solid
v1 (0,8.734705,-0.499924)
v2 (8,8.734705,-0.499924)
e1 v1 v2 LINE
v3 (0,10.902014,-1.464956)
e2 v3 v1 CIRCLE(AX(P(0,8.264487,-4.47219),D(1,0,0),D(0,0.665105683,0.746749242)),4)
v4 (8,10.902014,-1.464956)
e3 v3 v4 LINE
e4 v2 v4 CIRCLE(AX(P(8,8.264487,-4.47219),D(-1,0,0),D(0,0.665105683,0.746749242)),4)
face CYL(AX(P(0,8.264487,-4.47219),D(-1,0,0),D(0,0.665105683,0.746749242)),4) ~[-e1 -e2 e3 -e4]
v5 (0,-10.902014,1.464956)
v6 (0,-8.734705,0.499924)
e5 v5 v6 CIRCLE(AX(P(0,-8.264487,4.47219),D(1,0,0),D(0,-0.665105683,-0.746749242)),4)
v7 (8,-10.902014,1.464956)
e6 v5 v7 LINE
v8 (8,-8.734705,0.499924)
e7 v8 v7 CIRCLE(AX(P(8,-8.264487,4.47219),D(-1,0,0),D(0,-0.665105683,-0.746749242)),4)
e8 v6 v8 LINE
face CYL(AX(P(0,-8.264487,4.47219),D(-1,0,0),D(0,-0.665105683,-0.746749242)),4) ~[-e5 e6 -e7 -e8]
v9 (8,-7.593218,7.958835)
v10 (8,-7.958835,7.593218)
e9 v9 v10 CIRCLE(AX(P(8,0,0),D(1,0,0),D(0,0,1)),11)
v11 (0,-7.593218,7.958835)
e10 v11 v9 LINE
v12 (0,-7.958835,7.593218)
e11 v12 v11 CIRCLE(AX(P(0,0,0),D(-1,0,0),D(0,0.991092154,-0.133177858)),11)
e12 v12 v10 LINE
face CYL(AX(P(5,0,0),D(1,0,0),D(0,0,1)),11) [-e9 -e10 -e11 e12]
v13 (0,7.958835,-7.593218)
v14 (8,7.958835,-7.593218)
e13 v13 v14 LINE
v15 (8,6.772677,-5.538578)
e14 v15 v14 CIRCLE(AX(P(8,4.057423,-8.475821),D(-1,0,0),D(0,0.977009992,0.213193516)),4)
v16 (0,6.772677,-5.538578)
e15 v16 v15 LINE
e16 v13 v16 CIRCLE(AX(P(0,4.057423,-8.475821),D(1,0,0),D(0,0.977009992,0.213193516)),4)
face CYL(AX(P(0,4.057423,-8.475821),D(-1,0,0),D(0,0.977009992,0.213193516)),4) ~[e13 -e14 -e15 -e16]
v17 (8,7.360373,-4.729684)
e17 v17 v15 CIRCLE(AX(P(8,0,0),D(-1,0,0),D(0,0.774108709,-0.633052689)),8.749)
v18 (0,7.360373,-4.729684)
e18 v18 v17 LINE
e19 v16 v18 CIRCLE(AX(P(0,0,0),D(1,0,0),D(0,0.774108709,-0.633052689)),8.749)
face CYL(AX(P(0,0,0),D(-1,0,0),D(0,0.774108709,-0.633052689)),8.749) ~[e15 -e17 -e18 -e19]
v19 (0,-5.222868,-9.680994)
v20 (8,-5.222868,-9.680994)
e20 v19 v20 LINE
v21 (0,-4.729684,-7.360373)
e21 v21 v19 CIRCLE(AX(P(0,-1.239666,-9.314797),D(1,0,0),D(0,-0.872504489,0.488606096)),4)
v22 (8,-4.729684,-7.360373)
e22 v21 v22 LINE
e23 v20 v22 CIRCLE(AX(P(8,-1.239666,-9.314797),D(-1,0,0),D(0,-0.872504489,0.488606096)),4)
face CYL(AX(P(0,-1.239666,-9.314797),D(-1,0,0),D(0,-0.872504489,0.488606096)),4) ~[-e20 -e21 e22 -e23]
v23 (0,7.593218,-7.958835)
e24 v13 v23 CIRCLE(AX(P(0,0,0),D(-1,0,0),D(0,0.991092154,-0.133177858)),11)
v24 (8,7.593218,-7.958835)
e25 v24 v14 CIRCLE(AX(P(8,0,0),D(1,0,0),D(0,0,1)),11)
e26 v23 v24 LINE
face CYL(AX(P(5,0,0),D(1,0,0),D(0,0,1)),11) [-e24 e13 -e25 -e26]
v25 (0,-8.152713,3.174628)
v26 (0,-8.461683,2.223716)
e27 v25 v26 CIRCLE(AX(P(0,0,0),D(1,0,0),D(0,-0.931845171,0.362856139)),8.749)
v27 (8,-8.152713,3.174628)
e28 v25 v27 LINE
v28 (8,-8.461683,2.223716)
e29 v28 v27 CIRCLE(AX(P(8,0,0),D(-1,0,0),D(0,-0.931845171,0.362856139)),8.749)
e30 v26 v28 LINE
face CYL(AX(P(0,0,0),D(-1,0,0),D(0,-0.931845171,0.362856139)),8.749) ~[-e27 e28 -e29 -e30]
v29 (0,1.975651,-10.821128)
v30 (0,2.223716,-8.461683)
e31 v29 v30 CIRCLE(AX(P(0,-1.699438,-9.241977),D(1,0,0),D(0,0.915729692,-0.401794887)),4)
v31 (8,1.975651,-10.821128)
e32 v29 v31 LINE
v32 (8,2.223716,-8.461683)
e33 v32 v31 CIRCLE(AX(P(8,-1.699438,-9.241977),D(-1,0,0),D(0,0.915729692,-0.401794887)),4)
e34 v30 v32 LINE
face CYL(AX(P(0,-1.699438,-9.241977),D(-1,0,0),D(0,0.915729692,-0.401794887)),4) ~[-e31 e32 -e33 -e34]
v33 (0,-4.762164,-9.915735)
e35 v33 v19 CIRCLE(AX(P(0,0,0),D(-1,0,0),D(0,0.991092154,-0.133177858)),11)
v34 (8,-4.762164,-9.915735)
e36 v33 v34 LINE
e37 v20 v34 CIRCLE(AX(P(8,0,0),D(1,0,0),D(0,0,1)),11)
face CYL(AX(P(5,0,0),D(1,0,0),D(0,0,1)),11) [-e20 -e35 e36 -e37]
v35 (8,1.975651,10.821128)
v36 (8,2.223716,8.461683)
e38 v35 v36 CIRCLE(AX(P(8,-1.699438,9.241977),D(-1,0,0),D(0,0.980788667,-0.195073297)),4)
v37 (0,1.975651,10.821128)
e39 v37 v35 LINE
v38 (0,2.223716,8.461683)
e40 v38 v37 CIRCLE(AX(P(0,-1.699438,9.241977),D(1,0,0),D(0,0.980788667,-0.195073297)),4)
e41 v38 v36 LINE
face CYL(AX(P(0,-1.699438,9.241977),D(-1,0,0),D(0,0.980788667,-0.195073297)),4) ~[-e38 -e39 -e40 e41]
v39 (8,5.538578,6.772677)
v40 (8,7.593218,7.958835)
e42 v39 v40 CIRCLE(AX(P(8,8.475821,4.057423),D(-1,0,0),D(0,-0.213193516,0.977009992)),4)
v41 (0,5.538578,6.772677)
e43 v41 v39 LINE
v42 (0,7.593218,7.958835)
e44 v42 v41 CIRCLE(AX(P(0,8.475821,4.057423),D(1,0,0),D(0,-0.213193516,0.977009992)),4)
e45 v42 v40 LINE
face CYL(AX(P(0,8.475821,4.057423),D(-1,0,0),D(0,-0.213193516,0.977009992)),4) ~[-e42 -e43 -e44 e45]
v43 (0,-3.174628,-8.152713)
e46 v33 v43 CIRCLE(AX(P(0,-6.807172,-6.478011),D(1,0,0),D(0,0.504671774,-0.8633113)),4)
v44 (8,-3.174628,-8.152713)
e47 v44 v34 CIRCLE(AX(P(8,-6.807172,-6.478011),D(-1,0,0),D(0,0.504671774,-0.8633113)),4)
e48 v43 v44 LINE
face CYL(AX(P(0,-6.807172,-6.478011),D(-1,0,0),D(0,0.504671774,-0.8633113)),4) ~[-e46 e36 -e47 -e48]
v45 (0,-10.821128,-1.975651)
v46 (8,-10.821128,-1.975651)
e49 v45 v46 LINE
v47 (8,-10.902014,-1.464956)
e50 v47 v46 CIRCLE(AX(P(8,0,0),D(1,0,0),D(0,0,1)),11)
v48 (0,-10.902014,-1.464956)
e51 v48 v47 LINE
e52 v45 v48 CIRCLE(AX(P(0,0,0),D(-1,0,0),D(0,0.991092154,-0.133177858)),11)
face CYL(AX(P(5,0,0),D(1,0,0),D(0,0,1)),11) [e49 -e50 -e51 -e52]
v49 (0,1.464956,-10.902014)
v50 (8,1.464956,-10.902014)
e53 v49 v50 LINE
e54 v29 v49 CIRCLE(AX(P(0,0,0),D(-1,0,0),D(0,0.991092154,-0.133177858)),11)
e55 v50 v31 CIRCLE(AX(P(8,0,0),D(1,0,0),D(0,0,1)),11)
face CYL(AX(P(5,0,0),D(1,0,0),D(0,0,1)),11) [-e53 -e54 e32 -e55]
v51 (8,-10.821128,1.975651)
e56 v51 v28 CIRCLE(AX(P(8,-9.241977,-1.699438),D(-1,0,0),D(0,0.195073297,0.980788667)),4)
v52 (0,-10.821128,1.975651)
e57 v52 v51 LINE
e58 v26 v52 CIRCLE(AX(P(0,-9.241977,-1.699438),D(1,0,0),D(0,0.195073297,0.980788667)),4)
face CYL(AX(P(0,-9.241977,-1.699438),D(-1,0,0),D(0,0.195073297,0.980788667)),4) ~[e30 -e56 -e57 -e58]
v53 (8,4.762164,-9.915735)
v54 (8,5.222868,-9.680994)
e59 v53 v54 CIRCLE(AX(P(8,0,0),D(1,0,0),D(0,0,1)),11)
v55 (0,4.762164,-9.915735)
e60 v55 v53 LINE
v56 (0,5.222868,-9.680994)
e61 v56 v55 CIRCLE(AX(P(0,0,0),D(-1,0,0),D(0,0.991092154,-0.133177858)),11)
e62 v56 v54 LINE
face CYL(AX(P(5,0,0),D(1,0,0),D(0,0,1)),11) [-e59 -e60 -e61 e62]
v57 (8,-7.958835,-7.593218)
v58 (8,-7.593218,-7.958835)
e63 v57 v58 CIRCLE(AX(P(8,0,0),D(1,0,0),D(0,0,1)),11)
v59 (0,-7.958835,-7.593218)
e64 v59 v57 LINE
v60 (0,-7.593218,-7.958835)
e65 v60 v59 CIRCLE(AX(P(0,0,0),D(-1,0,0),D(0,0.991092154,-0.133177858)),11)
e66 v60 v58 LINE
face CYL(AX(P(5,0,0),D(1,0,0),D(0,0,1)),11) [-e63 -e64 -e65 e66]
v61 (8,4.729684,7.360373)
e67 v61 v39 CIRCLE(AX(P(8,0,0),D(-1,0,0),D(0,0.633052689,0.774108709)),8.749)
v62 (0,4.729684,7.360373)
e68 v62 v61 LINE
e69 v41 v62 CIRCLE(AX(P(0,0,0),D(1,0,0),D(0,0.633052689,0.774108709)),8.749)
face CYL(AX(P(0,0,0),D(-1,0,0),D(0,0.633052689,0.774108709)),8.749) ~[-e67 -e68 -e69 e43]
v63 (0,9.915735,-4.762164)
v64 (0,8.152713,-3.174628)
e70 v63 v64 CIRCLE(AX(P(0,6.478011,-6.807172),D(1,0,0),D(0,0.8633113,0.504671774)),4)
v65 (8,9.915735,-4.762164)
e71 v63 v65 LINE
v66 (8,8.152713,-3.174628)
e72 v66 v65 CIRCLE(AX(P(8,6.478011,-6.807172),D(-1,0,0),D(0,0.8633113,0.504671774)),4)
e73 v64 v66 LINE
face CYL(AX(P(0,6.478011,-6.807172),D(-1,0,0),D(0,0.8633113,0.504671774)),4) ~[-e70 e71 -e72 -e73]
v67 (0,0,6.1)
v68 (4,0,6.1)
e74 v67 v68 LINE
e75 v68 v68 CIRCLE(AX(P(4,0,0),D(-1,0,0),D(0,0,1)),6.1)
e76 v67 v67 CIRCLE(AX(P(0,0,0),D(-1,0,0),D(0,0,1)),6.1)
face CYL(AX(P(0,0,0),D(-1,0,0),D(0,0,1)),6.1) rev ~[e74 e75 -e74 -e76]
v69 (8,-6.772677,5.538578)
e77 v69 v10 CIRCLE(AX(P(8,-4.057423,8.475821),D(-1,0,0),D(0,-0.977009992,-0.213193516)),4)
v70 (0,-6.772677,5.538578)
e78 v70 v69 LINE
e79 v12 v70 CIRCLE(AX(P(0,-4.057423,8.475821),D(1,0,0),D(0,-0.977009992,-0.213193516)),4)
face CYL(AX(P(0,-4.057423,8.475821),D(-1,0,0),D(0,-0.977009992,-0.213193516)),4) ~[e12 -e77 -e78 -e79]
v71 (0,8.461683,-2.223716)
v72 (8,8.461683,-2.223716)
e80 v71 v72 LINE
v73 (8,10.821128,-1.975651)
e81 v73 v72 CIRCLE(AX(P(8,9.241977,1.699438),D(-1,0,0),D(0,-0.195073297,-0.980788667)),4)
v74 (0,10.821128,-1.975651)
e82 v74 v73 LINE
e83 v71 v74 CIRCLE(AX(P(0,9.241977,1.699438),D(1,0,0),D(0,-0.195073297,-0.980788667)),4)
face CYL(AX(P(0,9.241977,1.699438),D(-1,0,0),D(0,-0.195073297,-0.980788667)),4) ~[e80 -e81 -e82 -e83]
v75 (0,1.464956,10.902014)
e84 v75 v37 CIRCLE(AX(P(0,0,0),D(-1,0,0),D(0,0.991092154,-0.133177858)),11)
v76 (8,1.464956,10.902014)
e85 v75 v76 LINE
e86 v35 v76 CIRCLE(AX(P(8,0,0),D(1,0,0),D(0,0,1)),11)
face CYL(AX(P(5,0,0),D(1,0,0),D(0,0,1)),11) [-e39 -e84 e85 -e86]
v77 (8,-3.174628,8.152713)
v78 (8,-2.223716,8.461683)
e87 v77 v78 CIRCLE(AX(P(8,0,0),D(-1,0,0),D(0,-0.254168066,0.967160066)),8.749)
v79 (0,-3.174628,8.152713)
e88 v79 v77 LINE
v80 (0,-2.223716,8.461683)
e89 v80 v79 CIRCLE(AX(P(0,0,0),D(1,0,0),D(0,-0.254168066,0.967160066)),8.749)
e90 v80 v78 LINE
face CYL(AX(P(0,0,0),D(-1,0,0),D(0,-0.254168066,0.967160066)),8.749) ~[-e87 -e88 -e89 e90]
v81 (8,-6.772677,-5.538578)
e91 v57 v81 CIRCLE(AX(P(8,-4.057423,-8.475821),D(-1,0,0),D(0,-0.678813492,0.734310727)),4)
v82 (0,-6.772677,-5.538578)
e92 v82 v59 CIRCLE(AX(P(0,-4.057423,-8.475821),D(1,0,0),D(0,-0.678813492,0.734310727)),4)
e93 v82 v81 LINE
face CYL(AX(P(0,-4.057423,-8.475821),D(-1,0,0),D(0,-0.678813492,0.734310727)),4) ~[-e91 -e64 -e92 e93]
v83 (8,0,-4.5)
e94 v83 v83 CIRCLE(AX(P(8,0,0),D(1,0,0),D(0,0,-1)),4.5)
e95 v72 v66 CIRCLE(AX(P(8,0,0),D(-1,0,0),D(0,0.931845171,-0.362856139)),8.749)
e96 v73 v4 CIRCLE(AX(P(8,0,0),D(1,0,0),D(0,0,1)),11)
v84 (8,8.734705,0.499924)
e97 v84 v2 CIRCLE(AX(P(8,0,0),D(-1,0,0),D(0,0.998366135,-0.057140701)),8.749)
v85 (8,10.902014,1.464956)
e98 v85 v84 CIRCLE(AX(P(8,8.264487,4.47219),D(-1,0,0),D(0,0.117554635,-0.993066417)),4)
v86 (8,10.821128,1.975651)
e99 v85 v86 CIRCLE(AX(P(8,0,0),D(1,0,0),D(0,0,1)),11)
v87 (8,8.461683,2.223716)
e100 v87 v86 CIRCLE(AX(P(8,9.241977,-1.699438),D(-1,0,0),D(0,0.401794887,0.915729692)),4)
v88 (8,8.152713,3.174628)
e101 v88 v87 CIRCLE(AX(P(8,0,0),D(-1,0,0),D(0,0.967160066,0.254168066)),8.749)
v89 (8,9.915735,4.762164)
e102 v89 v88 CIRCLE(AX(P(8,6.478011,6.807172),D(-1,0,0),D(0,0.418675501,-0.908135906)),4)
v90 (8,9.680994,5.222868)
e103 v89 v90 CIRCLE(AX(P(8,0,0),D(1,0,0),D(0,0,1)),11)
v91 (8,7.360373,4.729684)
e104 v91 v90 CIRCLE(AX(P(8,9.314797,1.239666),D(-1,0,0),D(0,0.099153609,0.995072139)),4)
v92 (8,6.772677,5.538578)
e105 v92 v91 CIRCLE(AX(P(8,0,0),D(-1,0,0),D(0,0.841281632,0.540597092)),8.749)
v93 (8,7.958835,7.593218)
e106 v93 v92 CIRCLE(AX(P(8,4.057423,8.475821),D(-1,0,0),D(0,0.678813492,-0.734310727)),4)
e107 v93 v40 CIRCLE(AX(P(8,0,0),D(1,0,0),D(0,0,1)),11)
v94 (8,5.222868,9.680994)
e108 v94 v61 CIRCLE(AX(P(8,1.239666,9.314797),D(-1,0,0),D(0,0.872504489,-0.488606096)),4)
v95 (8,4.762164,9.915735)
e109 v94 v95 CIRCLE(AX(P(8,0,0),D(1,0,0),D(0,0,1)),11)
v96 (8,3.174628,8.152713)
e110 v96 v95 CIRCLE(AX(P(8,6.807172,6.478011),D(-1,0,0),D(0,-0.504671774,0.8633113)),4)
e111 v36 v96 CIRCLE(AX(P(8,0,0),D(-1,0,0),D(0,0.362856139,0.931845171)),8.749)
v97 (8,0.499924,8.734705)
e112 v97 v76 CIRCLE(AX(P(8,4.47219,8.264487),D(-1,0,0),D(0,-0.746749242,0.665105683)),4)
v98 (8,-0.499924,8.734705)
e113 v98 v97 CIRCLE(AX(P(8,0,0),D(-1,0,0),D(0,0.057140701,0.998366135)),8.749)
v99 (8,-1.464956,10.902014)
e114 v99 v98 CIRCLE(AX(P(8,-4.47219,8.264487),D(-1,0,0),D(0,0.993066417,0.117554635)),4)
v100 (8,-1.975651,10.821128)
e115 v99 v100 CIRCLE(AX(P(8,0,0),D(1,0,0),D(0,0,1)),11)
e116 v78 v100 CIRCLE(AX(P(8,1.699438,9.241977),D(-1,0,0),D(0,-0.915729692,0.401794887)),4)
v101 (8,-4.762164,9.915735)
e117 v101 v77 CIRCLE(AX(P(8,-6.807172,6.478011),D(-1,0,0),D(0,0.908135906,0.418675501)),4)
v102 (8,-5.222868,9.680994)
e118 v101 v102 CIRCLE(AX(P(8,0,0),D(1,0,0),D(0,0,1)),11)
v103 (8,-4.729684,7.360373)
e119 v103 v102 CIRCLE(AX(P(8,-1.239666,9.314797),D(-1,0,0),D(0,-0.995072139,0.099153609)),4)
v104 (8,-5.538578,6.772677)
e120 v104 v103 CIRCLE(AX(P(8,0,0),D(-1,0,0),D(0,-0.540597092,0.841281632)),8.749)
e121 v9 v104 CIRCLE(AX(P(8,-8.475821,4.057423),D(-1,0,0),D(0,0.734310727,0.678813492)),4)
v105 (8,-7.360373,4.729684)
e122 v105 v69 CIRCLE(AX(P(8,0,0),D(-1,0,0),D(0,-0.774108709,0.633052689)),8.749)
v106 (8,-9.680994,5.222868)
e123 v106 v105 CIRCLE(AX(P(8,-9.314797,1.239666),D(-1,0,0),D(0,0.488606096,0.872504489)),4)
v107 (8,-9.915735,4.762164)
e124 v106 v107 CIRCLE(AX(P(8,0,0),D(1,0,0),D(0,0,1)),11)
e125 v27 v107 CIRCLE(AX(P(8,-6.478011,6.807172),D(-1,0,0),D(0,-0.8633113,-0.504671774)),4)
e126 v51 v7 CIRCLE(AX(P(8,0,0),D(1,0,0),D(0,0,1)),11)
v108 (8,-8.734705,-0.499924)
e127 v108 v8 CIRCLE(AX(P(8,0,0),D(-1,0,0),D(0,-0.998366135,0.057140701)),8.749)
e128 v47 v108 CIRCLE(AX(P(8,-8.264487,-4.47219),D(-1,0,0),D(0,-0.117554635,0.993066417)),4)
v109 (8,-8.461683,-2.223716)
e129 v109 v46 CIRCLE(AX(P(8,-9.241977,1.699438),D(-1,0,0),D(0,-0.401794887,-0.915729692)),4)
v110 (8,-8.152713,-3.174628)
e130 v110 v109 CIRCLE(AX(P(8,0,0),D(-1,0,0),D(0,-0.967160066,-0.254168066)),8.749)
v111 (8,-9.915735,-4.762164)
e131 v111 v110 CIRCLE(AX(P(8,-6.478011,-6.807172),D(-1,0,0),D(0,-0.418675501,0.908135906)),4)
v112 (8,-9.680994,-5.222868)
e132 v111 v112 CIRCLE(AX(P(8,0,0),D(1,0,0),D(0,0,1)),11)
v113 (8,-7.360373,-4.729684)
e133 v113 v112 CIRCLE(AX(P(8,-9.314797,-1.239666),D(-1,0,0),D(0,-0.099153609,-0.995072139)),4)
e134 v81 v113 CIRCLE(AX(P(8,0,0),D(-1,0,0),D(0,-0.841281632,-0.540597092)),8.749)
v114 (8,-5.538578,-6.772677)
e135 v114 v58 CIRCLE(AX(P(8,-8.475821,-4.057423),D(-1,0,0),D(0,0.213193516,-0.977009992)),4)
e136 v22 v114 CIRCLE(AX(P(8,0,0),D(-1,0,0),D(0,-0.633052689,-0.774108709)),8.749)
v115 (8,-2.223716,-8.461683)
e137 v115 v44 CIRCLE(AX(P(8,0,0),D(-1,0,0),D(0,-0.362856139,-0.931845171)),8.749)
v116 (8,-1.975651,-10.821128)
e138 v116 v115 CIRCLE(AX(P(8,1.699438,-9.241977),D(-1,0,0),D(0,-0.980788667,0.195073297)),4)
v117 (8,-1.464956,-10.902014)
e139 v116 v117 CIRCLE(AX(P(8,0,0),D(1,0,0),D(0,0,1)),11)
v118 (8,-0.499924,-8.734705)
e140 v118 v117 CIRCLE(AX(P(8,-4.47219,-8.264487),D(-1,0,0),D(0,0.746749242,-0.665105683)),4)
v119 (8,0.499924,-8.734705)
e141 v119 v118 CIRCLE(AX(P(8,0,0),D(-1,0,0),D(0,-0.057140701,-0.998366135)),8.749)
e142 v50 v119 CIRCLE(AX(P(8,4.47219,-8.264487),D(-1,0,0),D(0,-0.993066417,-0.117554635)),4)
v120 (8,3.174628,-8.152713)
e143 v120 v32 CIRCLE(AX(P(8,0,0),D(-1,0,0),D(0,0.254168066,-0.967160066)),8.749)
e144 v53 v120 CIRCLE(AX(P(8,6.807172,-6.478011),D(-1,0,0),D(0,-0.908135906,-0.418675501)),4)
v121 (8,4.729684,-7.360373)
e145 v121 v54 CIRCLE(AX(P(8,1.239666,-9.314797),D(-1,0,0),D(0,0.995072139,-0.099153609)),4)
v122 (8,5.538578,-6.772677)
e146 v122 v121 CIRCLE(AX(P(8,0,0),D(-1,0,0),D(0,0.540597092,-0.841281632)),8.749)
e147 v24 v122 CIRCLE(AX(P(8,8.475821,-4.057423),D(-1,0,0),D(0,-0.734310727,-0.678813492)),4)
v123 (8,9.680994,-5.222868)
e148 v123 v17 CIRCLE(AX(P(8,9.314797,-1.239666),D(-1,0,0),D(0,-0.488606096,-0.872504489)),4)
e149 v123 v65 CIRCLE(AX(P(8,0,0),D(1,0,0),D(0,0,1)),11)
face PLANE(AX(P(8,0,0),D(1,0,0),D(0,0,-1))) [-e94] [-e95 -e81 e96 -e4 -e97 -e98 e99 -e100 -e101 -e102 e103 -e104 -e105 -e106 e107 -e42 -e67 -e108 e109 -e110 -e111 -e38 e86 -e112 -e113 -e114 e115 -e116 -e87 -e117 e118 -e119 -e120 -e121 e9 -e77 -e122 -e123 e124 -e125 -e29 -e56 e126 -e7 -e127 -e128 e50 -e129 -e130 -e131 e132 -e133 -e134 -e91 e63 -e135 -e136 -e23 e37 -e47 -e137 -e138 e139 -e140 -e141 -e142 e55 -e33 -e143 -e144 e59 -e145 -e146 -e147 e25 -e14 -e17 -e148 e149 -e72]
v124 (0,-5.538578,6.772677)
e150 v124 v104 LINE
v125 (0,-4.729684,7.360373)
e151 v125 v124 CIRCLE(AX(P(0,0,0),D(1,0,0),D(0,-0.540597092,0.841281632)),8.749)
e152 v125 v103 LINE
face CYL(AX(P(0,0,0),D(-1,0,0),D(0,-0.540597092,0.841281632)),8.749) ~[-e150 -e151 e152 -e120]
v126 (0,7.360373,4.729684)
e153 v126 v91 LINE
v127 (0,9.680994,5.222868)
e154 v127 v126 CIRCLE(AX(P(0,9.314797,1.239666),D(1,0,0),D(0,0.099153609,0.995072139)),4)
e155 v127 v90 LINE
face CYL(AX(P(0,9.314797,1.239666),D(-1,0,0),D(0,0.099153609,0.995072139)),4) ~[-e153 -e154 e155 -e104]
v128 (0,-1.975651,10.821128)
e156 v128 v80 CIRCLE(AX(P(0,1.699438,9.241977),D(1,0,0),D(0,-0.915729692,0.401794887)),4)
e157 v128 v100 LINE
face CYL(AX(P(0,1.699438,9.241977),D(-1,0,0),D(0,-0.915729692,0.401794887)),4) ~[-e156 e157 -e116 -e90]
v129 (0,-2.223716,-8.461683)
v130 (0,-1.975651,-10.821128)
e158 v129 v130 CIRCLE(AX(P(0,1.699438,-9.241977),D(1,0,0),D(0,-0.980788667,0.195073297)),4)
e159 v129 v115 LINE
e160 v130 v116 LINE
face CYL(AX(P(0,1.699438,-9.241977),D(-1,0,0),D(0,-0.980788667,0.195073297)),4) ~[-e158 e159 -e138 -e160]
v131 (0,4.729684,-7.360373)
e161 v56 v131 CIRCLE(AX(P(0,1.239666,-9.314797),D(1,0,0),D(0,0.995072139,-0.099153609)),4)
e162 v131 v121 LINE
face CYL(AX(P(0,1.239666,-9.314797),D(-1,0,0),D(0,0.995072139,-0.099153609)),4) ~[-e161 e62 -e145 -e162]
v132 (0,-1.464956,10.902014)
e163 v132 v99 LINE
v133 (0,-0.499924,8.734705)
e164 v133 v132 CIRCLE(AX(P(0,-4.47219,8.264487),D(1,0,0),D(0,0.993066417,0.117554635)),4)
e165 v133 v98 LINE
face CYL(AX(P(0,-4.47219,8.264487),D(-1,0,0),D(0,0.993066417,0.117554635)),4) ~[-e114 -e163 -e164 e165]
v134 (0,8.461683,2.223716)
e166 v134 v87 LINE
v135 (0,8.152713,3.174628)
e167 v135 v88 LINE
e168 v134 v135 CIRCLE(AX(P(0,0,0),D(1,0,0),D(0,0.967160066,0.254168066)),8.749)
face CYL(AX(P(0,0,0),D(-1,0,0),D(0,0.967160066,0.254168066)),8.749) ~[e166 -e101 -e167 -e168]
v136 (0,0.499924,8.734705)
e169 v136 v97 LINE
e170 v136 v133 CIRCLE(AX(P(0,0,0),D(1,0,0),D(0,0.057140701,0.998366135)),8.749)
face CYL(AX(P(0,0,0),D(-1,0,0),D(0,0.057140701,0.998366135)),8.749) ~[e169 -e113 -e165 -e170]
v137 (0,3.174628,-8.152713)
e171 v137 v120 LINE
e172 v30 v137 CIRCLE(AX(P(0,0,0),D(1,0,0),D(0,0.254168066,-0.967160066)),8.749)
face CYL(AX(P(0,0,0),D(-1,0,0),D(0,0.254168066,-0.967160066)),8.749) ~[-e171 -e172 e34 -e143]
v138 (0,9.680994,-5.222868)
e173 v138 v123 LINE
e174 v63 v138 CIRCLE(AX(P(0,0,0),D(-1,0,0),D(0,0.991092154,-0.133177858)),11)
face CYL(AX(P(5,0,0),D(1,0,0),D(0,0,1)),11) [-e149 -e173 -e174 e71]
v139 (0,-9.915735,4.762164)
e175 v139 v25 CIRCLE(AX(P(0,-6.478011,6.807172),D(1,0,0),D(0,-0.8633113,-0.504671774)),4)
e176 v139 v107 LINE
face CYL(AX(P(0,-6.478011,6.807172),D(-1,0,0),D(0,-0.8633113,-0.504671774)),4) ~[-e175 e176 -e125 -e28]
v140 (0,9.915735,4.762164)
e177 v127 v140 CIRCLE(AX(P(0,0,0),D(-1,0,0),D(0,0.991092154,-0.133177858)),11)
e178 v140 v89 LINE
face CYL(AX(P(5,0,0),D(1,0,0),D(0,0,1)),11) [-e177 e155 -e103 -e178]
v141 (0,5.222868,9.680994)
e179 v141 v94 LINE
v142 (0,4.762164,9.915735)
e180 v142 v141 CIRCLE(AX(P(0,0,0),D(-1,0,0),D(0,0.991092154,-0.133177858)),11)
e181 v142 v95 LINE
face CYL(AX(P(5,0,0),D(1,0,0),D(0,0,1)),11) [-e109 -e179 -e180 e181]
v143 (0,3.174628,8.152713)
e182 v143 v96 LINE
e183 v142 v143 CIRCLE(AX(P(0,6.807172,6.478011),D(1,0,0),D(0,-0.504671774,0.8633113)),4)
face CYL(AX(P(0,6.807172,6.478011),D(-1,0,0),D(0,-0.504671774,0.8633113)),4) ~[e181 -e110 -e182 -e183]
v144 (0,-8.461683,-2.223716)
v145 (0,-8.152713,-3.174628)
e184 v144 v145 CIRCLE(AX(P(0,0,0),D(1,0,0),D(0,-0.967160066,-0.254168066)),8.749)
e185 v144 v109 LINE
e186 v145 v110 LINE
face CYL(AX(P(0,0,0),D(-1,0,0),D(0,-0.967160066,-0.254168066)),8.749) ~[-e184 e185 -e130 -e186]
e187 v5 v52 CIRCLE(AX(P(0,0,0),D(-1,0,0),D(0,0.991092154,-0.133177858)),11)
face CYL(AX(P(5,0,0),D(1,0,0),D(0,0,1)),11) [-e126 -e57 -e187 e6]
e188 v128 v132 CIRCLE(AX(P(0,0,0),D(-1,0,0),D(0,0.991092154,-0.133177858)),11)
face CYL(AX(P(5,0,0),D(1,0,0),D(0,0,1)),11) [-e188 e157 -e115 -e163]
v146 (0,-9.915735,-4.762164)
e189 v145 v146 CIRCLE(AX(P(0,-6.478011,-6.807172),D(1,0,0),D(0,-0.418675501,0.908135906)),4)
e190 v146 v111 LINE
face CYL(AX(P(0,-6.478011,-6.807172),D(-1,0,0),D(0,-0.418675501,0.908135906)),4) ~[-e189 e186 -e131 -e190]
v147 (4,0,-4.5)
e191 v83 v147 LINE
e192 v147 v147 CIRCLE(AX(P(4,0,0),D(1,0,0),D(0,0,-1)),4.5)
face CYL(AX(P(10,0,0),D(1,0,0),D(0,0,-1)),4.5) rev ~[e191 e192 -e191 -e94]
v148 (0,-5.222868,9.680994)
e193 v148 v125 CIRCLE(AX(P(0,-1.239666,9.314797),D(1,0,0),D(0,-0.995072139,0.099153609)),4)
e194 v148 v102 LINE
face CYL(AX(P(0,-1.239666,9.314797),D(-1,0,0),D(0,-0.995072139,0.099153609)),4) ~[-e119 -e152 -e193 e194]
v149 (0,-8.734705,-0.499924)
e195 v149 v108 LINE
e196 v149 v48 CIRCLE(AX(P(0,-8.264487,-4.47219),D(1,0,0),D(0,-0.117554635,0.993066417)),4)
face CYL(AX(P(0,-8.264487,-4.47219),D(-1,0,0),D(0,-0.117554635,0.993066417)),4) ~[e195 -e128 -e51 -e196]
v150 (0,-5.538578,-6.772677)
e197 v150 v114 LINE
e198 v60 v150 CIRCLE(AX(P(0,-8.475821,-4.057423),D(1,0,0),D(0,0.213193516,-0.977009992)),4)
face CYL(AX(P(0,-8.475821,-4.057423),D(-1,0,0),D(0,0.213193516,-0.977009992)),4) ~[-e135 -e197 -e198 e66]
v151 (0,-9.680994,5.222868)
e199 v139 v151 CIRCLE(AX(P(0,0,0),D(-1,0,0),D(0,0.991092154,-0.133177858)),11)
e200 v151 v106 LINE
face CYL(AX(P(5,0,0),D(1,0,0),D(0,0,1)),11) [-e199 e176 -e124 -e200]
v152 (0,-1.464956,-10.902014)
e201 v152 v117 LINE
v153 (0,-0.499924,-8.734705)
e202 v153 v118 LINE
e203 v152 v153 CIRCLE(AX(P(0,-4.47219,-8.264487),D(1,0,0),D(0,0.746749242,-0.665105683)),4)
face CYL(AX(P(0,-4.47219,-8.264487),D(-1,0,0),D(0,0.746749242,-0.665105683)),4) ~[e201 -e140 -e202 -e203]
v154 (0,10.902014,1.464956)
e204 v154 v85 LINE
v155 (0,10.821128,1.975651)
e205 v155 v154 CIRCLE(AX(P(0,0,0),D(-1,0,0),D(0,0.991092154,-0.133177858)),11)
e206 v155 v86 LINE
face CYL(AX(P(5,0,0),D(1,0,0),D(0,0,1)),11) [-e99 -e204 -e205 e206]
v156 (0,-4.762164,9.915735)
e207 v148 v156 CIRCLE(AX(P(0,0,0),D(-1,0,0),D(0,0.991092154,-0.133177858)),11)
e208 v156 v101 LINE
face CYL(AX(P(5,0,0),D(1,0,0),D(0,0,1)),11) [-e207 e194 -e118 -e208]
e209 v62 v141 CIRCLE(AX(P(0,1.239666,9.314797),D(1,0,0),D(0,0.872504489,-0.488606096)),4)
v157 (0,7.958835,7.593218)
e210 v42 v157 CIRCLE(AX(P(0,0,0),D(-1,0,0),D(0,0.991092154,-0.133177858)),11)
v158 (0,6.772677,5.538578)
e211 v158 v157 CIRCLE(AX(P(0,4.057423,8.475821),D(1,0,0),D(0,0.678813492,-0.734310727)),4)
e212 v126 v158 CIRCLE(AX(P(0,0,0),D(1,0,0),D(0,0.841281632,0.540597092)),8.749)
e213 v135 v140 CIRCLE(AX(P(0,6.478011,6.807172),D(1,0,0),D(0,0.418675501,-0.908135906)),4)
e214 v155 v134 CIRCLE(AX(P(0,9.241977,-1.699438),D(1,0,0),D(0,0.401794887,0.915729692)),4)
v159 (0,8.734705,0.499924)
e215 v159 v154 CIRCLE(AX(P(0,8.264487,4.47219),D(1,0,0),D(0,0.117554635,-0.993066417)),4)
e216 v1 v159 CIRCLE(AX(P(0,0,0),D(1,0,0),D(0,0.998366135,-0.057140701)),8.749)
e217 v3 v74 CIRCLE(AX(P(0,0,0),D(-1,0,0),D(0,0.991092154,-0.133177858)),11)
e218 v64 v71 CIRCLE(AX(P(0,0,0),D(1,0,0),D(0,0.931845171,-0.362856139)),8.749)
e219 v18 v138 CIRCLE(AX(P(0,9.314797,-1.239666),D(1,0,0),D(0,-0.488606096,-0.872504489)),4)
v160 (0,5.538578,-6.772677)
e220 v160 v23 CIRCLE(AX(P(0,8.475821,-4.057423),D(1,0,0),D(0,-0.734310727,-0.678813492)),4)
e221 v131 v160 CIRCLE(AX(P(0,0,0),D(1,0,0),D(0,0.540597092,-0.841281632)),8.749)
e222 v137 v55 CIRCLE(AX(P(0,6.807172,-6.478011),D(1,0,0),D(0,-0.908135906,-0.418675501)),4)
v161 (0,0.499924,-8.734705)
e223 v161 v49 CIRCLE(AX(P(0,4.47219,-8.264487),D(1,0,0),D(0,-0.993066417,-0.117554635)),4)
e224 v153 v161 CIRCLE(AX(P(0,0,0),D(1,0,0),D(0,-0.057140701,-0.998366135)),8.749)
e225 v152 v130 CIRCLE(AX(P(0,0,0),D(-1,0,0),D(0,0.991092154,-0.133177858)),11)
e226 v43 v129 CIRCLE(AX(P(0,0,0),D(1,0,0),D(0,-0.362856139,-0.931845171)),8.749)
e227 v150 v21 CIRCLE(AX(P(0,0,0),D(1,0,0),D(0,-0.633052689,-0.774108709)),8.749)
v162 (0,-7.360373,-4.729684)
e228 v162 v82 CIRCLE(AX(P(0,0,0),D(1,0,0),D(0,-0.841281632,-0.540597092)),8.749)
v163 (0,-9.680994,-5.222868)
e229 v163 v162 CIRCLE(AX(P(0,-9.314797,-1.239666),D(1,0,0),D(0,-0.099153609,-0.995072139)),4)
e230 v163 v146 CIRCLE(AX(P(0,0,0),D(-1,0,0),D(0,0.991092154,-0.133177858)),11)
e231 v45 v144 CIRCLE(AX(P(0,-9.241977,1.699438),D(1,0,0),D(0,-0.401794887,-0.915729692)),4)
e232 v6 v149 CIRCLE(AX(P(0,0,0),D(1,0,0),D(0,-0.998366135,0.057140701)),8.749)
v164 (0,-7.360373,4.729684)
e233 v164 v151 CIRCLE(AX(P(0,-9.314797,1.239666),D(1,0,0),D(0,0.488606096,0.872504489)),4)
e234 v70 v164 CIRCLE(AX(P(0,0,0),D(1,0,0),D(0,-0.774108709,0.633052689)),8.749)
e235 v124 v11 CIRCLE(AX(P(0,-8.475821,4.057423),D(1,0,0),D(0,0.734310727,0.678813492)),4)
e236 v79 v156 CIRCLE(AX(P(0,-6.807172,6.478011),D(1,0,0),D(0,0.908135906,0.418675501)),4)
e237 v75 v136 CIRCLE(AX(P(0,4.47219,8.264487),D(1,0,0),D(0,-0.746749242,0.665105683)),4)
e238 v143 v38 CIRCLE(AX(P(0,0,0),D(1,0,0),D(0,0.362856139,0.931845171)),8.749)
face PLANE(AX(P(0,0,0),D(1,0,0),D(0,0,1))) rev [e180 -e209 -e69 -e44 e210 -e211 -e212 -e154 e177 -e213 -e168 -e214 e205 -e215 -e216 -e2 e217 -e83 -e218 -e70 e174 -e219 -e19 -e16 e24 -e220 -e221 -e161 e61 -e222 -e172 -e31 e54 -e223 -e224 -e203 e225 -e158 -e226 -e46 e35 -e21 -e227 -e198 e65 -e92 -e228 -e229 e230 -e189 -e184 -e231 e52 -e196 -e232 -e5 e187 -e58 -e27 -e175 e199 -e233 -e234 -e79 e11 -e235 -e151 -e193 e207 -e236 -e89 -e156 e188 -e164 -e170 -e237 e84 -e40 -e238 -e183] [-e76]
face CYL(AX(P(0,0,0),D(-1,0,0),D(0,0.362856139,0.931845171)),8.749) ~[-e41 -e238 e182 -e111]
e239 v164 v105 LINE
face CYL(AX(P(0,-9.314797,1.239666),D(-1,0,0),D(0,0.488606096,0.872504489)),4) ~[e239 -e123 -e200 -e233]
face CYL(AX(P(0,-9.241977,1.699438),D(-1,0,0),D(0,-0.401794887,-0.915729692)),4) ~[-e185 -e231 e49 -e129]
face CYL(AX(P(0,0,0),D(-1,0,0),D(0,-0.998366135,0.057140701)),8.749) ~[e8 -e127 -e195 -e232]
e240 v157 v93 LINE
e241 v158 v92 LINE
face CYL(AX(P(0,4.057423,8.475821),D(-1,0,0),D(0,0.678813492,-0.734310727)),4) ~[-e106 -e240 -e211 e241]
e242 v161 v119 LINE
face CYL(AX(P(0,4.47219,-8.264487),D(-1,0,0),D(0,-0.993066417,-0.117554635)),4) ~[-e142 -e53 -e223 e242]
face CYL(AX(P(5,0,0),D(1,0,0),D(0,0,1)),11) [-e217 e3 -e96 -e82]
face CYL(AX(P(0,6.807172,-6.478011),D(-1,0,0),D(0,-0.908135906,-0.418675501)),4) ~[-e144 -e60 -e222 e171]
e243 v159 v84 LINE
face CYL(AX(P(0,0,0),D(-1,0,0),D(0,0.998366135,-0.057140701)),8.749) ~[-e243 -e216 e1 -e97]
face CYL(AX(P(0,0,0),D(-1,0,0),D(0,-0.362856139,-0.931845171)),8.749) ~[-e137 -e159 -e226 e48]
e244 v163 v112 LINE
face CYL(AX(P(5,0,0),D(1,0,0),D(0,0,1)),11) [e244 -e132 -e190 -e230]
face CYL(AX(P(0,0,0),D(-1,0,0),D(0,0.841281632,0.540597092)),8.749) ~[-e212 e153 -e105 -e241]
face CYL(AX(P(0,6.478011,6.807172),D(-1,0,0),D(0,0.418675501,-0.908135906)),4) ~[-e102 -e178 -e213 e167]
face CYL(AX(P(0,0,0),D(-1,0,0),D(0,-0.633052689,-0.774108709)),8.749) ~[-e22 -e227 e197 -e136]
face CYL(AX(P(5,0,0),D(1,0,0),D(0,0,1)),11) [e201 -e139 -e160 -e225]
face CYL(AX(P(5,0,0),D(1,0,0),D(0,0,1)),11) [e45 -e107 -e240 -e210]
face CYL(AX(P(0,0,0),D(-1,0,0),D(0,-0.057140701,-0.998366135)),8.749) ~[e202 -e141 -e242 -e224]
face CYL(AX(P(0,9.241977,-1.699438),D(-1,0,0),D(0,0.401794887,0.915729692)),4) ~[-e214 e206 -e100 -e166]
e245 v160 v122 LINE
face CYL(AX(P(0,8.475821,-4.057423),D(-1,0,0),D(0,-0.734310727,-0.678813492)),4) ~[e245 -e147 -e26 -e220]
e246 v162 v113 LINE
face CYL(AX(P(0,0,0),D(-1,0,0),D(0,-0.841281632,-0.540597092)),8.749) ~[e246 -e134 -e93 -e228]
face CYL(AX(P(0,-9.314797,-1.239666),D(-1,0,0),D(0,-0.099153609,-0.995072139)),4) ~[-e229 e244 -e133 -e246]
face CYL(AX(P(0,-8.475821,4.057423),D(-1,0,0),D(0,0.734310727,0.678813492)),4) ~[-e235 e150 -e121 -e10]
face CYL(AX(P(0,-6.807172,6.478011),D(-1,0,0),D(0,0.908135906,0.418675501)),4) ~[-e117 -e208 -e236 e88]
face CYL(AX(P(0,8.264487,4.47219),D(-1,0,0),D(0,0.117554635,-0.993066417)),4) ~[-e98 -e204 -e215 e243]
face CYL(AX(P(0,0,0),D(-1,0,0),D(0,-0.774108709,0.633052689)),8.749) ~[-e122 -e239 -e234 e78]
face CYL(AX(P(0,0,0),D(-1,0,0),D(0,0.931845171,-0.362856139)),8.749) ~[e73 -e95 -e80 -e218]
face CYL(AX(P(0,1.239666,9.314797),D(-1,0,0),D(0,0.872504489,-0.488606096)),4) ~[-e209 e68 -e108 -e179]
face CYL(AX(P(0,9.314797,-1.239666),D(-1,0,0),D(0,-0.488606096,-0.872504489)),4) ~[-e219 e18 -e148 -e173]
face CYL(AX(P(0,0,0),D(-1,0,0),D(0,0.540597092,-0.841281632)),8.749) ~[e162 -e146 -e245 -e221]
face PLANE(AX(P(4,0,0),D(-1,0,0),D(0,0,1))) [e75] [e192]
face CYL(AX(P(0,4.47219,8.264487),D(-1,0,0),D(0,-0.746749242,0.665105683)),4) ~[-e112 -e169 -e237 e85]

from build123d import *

# Parameters (mm, degrees)
BASPROSKE_W        = 10
BASPROSKE_H        = 11
TOOTHCUT_DEPTH     = 19.493242009
TEETHCUTS_COUNT    = 20
TEETHCUTS_ANGLE    = 342
BORSKE_R           = 2.5
BORE_DEPTH         = 50.0000508
SKETCH1_R          = 6.1
CUT_EXTRUDE1_DEPTH = 4
SKETCH2_R          = 4.5
CUT_EXTRUDE2_DEPTH = 19.376827944
SKETCH3_R          = 14.898414192
CUT_EXTRUDE3_DEPTH = 2


with BuildPart() as part:
    # BasProSke → Base-Revolve (revolve)
    with BuildSketch(Plane(origin=(0, 0, 0), x_dir=(1, 0, 0), z_dir=(0, 1, 0)), mode=Mode.PRIVATE) as base_revolve_sk:
        with Locations((5, 5.5)):
            Rectangle(BASPROSKE_W, BASPROSKE_H)
    revolve(base_revolve_sk.sketch.rotate(Axis((-10, 0, 0), (1, 0, 0)), 180), axis=Axis((-10, 0, 0), (1, 0, 0)))

    # TooCutSke → ToothCut (cut, through all)
    with BuildSketch(Plane(origin=(0, 0, 0), x_dir=(0, 0, -1), z_dir=(1, 0, 0))):
        with BuildLine():
            ThreePointArc((0.499924007, 8.734705318), (0, 8.749), (-0.499924007, 8.734705318))
            ThreePointArc((-0.499924007, 8.734705318), (-0.824302243, 9.905497836), (-1.485192705, 10.924909509))
            ThreePointArc((-1.485192705, 10.924909509), (0, 11.0254), (1.485192705, 10.924909509))
            ThreePointArc((1.485192705, 10.924909509), (0.824302243, 9.905497836), (0.499924007, 8.734705318))
        make_face()
    toothcut = extrude(amount=TOOTHCUT_DEPTH, mode=Mode.SUBTRACT)

    # TeethCuts: ToothCut ×20 about axis
    teethcuts_axis = Axis((-10, 0, 0), (1, 0, 0))
    for i in range(1, TEETHCUTS_COUNT):
        add(toothcut.rotate(teethcuts_axis, i * TEETHCUTS_ANGLE / (TEETHCUTS_COUNT - 1)), mode=Mode.SUBTRACT)

    # BorSke → Bore (cut, symmetric)
    with BuildSketch(Plane(origin=(0, 0, 0), x_dir=(0, 0, -1), z_dir=(1, 0, 0))):
        with Locations(Location((0, 0, 0), (0, 0, 180))):
            Circle(BORSKE_R)
    extrude(amount=BORE_DEPTH, both=True, mode=Mode.SUBTRACT)

    # Sketch1 → Cut-Extrude1 (cut)
    with BuildSketch(Plane.ZY):
        Circle(SKETCH1_R)
    extrude(amount=-CUT_EXTRUDE1_DEPTH, mode=Mode.SUBTRACT)

    # Sketch2 → Cut-Extrude2 (cut, through all)
    with BuildSketch(Plane(origin=(10, 0, 0), x_dir=(0, 0, -1), z_dir=(1, 0, 0))):
        Circle(SKETCH2_R)
    extrude(amount=-CUT_EXTRUDE2_DEPTH, mode=Mode.SUBTRACT)

    # Sketch3 → Cut-Extrude3 (cut)
    with BuildSketch(Plane(origin=(10, 0, 0), x_dir=(0, 0, -1), z_dir=(1, 0, 0))):
        Circle(SKETCH3_R)
    extrude(amount=-CUT_EXTRUDE3_DEPTH, mode=Mode.SUBTRACT)


solid = part.part
